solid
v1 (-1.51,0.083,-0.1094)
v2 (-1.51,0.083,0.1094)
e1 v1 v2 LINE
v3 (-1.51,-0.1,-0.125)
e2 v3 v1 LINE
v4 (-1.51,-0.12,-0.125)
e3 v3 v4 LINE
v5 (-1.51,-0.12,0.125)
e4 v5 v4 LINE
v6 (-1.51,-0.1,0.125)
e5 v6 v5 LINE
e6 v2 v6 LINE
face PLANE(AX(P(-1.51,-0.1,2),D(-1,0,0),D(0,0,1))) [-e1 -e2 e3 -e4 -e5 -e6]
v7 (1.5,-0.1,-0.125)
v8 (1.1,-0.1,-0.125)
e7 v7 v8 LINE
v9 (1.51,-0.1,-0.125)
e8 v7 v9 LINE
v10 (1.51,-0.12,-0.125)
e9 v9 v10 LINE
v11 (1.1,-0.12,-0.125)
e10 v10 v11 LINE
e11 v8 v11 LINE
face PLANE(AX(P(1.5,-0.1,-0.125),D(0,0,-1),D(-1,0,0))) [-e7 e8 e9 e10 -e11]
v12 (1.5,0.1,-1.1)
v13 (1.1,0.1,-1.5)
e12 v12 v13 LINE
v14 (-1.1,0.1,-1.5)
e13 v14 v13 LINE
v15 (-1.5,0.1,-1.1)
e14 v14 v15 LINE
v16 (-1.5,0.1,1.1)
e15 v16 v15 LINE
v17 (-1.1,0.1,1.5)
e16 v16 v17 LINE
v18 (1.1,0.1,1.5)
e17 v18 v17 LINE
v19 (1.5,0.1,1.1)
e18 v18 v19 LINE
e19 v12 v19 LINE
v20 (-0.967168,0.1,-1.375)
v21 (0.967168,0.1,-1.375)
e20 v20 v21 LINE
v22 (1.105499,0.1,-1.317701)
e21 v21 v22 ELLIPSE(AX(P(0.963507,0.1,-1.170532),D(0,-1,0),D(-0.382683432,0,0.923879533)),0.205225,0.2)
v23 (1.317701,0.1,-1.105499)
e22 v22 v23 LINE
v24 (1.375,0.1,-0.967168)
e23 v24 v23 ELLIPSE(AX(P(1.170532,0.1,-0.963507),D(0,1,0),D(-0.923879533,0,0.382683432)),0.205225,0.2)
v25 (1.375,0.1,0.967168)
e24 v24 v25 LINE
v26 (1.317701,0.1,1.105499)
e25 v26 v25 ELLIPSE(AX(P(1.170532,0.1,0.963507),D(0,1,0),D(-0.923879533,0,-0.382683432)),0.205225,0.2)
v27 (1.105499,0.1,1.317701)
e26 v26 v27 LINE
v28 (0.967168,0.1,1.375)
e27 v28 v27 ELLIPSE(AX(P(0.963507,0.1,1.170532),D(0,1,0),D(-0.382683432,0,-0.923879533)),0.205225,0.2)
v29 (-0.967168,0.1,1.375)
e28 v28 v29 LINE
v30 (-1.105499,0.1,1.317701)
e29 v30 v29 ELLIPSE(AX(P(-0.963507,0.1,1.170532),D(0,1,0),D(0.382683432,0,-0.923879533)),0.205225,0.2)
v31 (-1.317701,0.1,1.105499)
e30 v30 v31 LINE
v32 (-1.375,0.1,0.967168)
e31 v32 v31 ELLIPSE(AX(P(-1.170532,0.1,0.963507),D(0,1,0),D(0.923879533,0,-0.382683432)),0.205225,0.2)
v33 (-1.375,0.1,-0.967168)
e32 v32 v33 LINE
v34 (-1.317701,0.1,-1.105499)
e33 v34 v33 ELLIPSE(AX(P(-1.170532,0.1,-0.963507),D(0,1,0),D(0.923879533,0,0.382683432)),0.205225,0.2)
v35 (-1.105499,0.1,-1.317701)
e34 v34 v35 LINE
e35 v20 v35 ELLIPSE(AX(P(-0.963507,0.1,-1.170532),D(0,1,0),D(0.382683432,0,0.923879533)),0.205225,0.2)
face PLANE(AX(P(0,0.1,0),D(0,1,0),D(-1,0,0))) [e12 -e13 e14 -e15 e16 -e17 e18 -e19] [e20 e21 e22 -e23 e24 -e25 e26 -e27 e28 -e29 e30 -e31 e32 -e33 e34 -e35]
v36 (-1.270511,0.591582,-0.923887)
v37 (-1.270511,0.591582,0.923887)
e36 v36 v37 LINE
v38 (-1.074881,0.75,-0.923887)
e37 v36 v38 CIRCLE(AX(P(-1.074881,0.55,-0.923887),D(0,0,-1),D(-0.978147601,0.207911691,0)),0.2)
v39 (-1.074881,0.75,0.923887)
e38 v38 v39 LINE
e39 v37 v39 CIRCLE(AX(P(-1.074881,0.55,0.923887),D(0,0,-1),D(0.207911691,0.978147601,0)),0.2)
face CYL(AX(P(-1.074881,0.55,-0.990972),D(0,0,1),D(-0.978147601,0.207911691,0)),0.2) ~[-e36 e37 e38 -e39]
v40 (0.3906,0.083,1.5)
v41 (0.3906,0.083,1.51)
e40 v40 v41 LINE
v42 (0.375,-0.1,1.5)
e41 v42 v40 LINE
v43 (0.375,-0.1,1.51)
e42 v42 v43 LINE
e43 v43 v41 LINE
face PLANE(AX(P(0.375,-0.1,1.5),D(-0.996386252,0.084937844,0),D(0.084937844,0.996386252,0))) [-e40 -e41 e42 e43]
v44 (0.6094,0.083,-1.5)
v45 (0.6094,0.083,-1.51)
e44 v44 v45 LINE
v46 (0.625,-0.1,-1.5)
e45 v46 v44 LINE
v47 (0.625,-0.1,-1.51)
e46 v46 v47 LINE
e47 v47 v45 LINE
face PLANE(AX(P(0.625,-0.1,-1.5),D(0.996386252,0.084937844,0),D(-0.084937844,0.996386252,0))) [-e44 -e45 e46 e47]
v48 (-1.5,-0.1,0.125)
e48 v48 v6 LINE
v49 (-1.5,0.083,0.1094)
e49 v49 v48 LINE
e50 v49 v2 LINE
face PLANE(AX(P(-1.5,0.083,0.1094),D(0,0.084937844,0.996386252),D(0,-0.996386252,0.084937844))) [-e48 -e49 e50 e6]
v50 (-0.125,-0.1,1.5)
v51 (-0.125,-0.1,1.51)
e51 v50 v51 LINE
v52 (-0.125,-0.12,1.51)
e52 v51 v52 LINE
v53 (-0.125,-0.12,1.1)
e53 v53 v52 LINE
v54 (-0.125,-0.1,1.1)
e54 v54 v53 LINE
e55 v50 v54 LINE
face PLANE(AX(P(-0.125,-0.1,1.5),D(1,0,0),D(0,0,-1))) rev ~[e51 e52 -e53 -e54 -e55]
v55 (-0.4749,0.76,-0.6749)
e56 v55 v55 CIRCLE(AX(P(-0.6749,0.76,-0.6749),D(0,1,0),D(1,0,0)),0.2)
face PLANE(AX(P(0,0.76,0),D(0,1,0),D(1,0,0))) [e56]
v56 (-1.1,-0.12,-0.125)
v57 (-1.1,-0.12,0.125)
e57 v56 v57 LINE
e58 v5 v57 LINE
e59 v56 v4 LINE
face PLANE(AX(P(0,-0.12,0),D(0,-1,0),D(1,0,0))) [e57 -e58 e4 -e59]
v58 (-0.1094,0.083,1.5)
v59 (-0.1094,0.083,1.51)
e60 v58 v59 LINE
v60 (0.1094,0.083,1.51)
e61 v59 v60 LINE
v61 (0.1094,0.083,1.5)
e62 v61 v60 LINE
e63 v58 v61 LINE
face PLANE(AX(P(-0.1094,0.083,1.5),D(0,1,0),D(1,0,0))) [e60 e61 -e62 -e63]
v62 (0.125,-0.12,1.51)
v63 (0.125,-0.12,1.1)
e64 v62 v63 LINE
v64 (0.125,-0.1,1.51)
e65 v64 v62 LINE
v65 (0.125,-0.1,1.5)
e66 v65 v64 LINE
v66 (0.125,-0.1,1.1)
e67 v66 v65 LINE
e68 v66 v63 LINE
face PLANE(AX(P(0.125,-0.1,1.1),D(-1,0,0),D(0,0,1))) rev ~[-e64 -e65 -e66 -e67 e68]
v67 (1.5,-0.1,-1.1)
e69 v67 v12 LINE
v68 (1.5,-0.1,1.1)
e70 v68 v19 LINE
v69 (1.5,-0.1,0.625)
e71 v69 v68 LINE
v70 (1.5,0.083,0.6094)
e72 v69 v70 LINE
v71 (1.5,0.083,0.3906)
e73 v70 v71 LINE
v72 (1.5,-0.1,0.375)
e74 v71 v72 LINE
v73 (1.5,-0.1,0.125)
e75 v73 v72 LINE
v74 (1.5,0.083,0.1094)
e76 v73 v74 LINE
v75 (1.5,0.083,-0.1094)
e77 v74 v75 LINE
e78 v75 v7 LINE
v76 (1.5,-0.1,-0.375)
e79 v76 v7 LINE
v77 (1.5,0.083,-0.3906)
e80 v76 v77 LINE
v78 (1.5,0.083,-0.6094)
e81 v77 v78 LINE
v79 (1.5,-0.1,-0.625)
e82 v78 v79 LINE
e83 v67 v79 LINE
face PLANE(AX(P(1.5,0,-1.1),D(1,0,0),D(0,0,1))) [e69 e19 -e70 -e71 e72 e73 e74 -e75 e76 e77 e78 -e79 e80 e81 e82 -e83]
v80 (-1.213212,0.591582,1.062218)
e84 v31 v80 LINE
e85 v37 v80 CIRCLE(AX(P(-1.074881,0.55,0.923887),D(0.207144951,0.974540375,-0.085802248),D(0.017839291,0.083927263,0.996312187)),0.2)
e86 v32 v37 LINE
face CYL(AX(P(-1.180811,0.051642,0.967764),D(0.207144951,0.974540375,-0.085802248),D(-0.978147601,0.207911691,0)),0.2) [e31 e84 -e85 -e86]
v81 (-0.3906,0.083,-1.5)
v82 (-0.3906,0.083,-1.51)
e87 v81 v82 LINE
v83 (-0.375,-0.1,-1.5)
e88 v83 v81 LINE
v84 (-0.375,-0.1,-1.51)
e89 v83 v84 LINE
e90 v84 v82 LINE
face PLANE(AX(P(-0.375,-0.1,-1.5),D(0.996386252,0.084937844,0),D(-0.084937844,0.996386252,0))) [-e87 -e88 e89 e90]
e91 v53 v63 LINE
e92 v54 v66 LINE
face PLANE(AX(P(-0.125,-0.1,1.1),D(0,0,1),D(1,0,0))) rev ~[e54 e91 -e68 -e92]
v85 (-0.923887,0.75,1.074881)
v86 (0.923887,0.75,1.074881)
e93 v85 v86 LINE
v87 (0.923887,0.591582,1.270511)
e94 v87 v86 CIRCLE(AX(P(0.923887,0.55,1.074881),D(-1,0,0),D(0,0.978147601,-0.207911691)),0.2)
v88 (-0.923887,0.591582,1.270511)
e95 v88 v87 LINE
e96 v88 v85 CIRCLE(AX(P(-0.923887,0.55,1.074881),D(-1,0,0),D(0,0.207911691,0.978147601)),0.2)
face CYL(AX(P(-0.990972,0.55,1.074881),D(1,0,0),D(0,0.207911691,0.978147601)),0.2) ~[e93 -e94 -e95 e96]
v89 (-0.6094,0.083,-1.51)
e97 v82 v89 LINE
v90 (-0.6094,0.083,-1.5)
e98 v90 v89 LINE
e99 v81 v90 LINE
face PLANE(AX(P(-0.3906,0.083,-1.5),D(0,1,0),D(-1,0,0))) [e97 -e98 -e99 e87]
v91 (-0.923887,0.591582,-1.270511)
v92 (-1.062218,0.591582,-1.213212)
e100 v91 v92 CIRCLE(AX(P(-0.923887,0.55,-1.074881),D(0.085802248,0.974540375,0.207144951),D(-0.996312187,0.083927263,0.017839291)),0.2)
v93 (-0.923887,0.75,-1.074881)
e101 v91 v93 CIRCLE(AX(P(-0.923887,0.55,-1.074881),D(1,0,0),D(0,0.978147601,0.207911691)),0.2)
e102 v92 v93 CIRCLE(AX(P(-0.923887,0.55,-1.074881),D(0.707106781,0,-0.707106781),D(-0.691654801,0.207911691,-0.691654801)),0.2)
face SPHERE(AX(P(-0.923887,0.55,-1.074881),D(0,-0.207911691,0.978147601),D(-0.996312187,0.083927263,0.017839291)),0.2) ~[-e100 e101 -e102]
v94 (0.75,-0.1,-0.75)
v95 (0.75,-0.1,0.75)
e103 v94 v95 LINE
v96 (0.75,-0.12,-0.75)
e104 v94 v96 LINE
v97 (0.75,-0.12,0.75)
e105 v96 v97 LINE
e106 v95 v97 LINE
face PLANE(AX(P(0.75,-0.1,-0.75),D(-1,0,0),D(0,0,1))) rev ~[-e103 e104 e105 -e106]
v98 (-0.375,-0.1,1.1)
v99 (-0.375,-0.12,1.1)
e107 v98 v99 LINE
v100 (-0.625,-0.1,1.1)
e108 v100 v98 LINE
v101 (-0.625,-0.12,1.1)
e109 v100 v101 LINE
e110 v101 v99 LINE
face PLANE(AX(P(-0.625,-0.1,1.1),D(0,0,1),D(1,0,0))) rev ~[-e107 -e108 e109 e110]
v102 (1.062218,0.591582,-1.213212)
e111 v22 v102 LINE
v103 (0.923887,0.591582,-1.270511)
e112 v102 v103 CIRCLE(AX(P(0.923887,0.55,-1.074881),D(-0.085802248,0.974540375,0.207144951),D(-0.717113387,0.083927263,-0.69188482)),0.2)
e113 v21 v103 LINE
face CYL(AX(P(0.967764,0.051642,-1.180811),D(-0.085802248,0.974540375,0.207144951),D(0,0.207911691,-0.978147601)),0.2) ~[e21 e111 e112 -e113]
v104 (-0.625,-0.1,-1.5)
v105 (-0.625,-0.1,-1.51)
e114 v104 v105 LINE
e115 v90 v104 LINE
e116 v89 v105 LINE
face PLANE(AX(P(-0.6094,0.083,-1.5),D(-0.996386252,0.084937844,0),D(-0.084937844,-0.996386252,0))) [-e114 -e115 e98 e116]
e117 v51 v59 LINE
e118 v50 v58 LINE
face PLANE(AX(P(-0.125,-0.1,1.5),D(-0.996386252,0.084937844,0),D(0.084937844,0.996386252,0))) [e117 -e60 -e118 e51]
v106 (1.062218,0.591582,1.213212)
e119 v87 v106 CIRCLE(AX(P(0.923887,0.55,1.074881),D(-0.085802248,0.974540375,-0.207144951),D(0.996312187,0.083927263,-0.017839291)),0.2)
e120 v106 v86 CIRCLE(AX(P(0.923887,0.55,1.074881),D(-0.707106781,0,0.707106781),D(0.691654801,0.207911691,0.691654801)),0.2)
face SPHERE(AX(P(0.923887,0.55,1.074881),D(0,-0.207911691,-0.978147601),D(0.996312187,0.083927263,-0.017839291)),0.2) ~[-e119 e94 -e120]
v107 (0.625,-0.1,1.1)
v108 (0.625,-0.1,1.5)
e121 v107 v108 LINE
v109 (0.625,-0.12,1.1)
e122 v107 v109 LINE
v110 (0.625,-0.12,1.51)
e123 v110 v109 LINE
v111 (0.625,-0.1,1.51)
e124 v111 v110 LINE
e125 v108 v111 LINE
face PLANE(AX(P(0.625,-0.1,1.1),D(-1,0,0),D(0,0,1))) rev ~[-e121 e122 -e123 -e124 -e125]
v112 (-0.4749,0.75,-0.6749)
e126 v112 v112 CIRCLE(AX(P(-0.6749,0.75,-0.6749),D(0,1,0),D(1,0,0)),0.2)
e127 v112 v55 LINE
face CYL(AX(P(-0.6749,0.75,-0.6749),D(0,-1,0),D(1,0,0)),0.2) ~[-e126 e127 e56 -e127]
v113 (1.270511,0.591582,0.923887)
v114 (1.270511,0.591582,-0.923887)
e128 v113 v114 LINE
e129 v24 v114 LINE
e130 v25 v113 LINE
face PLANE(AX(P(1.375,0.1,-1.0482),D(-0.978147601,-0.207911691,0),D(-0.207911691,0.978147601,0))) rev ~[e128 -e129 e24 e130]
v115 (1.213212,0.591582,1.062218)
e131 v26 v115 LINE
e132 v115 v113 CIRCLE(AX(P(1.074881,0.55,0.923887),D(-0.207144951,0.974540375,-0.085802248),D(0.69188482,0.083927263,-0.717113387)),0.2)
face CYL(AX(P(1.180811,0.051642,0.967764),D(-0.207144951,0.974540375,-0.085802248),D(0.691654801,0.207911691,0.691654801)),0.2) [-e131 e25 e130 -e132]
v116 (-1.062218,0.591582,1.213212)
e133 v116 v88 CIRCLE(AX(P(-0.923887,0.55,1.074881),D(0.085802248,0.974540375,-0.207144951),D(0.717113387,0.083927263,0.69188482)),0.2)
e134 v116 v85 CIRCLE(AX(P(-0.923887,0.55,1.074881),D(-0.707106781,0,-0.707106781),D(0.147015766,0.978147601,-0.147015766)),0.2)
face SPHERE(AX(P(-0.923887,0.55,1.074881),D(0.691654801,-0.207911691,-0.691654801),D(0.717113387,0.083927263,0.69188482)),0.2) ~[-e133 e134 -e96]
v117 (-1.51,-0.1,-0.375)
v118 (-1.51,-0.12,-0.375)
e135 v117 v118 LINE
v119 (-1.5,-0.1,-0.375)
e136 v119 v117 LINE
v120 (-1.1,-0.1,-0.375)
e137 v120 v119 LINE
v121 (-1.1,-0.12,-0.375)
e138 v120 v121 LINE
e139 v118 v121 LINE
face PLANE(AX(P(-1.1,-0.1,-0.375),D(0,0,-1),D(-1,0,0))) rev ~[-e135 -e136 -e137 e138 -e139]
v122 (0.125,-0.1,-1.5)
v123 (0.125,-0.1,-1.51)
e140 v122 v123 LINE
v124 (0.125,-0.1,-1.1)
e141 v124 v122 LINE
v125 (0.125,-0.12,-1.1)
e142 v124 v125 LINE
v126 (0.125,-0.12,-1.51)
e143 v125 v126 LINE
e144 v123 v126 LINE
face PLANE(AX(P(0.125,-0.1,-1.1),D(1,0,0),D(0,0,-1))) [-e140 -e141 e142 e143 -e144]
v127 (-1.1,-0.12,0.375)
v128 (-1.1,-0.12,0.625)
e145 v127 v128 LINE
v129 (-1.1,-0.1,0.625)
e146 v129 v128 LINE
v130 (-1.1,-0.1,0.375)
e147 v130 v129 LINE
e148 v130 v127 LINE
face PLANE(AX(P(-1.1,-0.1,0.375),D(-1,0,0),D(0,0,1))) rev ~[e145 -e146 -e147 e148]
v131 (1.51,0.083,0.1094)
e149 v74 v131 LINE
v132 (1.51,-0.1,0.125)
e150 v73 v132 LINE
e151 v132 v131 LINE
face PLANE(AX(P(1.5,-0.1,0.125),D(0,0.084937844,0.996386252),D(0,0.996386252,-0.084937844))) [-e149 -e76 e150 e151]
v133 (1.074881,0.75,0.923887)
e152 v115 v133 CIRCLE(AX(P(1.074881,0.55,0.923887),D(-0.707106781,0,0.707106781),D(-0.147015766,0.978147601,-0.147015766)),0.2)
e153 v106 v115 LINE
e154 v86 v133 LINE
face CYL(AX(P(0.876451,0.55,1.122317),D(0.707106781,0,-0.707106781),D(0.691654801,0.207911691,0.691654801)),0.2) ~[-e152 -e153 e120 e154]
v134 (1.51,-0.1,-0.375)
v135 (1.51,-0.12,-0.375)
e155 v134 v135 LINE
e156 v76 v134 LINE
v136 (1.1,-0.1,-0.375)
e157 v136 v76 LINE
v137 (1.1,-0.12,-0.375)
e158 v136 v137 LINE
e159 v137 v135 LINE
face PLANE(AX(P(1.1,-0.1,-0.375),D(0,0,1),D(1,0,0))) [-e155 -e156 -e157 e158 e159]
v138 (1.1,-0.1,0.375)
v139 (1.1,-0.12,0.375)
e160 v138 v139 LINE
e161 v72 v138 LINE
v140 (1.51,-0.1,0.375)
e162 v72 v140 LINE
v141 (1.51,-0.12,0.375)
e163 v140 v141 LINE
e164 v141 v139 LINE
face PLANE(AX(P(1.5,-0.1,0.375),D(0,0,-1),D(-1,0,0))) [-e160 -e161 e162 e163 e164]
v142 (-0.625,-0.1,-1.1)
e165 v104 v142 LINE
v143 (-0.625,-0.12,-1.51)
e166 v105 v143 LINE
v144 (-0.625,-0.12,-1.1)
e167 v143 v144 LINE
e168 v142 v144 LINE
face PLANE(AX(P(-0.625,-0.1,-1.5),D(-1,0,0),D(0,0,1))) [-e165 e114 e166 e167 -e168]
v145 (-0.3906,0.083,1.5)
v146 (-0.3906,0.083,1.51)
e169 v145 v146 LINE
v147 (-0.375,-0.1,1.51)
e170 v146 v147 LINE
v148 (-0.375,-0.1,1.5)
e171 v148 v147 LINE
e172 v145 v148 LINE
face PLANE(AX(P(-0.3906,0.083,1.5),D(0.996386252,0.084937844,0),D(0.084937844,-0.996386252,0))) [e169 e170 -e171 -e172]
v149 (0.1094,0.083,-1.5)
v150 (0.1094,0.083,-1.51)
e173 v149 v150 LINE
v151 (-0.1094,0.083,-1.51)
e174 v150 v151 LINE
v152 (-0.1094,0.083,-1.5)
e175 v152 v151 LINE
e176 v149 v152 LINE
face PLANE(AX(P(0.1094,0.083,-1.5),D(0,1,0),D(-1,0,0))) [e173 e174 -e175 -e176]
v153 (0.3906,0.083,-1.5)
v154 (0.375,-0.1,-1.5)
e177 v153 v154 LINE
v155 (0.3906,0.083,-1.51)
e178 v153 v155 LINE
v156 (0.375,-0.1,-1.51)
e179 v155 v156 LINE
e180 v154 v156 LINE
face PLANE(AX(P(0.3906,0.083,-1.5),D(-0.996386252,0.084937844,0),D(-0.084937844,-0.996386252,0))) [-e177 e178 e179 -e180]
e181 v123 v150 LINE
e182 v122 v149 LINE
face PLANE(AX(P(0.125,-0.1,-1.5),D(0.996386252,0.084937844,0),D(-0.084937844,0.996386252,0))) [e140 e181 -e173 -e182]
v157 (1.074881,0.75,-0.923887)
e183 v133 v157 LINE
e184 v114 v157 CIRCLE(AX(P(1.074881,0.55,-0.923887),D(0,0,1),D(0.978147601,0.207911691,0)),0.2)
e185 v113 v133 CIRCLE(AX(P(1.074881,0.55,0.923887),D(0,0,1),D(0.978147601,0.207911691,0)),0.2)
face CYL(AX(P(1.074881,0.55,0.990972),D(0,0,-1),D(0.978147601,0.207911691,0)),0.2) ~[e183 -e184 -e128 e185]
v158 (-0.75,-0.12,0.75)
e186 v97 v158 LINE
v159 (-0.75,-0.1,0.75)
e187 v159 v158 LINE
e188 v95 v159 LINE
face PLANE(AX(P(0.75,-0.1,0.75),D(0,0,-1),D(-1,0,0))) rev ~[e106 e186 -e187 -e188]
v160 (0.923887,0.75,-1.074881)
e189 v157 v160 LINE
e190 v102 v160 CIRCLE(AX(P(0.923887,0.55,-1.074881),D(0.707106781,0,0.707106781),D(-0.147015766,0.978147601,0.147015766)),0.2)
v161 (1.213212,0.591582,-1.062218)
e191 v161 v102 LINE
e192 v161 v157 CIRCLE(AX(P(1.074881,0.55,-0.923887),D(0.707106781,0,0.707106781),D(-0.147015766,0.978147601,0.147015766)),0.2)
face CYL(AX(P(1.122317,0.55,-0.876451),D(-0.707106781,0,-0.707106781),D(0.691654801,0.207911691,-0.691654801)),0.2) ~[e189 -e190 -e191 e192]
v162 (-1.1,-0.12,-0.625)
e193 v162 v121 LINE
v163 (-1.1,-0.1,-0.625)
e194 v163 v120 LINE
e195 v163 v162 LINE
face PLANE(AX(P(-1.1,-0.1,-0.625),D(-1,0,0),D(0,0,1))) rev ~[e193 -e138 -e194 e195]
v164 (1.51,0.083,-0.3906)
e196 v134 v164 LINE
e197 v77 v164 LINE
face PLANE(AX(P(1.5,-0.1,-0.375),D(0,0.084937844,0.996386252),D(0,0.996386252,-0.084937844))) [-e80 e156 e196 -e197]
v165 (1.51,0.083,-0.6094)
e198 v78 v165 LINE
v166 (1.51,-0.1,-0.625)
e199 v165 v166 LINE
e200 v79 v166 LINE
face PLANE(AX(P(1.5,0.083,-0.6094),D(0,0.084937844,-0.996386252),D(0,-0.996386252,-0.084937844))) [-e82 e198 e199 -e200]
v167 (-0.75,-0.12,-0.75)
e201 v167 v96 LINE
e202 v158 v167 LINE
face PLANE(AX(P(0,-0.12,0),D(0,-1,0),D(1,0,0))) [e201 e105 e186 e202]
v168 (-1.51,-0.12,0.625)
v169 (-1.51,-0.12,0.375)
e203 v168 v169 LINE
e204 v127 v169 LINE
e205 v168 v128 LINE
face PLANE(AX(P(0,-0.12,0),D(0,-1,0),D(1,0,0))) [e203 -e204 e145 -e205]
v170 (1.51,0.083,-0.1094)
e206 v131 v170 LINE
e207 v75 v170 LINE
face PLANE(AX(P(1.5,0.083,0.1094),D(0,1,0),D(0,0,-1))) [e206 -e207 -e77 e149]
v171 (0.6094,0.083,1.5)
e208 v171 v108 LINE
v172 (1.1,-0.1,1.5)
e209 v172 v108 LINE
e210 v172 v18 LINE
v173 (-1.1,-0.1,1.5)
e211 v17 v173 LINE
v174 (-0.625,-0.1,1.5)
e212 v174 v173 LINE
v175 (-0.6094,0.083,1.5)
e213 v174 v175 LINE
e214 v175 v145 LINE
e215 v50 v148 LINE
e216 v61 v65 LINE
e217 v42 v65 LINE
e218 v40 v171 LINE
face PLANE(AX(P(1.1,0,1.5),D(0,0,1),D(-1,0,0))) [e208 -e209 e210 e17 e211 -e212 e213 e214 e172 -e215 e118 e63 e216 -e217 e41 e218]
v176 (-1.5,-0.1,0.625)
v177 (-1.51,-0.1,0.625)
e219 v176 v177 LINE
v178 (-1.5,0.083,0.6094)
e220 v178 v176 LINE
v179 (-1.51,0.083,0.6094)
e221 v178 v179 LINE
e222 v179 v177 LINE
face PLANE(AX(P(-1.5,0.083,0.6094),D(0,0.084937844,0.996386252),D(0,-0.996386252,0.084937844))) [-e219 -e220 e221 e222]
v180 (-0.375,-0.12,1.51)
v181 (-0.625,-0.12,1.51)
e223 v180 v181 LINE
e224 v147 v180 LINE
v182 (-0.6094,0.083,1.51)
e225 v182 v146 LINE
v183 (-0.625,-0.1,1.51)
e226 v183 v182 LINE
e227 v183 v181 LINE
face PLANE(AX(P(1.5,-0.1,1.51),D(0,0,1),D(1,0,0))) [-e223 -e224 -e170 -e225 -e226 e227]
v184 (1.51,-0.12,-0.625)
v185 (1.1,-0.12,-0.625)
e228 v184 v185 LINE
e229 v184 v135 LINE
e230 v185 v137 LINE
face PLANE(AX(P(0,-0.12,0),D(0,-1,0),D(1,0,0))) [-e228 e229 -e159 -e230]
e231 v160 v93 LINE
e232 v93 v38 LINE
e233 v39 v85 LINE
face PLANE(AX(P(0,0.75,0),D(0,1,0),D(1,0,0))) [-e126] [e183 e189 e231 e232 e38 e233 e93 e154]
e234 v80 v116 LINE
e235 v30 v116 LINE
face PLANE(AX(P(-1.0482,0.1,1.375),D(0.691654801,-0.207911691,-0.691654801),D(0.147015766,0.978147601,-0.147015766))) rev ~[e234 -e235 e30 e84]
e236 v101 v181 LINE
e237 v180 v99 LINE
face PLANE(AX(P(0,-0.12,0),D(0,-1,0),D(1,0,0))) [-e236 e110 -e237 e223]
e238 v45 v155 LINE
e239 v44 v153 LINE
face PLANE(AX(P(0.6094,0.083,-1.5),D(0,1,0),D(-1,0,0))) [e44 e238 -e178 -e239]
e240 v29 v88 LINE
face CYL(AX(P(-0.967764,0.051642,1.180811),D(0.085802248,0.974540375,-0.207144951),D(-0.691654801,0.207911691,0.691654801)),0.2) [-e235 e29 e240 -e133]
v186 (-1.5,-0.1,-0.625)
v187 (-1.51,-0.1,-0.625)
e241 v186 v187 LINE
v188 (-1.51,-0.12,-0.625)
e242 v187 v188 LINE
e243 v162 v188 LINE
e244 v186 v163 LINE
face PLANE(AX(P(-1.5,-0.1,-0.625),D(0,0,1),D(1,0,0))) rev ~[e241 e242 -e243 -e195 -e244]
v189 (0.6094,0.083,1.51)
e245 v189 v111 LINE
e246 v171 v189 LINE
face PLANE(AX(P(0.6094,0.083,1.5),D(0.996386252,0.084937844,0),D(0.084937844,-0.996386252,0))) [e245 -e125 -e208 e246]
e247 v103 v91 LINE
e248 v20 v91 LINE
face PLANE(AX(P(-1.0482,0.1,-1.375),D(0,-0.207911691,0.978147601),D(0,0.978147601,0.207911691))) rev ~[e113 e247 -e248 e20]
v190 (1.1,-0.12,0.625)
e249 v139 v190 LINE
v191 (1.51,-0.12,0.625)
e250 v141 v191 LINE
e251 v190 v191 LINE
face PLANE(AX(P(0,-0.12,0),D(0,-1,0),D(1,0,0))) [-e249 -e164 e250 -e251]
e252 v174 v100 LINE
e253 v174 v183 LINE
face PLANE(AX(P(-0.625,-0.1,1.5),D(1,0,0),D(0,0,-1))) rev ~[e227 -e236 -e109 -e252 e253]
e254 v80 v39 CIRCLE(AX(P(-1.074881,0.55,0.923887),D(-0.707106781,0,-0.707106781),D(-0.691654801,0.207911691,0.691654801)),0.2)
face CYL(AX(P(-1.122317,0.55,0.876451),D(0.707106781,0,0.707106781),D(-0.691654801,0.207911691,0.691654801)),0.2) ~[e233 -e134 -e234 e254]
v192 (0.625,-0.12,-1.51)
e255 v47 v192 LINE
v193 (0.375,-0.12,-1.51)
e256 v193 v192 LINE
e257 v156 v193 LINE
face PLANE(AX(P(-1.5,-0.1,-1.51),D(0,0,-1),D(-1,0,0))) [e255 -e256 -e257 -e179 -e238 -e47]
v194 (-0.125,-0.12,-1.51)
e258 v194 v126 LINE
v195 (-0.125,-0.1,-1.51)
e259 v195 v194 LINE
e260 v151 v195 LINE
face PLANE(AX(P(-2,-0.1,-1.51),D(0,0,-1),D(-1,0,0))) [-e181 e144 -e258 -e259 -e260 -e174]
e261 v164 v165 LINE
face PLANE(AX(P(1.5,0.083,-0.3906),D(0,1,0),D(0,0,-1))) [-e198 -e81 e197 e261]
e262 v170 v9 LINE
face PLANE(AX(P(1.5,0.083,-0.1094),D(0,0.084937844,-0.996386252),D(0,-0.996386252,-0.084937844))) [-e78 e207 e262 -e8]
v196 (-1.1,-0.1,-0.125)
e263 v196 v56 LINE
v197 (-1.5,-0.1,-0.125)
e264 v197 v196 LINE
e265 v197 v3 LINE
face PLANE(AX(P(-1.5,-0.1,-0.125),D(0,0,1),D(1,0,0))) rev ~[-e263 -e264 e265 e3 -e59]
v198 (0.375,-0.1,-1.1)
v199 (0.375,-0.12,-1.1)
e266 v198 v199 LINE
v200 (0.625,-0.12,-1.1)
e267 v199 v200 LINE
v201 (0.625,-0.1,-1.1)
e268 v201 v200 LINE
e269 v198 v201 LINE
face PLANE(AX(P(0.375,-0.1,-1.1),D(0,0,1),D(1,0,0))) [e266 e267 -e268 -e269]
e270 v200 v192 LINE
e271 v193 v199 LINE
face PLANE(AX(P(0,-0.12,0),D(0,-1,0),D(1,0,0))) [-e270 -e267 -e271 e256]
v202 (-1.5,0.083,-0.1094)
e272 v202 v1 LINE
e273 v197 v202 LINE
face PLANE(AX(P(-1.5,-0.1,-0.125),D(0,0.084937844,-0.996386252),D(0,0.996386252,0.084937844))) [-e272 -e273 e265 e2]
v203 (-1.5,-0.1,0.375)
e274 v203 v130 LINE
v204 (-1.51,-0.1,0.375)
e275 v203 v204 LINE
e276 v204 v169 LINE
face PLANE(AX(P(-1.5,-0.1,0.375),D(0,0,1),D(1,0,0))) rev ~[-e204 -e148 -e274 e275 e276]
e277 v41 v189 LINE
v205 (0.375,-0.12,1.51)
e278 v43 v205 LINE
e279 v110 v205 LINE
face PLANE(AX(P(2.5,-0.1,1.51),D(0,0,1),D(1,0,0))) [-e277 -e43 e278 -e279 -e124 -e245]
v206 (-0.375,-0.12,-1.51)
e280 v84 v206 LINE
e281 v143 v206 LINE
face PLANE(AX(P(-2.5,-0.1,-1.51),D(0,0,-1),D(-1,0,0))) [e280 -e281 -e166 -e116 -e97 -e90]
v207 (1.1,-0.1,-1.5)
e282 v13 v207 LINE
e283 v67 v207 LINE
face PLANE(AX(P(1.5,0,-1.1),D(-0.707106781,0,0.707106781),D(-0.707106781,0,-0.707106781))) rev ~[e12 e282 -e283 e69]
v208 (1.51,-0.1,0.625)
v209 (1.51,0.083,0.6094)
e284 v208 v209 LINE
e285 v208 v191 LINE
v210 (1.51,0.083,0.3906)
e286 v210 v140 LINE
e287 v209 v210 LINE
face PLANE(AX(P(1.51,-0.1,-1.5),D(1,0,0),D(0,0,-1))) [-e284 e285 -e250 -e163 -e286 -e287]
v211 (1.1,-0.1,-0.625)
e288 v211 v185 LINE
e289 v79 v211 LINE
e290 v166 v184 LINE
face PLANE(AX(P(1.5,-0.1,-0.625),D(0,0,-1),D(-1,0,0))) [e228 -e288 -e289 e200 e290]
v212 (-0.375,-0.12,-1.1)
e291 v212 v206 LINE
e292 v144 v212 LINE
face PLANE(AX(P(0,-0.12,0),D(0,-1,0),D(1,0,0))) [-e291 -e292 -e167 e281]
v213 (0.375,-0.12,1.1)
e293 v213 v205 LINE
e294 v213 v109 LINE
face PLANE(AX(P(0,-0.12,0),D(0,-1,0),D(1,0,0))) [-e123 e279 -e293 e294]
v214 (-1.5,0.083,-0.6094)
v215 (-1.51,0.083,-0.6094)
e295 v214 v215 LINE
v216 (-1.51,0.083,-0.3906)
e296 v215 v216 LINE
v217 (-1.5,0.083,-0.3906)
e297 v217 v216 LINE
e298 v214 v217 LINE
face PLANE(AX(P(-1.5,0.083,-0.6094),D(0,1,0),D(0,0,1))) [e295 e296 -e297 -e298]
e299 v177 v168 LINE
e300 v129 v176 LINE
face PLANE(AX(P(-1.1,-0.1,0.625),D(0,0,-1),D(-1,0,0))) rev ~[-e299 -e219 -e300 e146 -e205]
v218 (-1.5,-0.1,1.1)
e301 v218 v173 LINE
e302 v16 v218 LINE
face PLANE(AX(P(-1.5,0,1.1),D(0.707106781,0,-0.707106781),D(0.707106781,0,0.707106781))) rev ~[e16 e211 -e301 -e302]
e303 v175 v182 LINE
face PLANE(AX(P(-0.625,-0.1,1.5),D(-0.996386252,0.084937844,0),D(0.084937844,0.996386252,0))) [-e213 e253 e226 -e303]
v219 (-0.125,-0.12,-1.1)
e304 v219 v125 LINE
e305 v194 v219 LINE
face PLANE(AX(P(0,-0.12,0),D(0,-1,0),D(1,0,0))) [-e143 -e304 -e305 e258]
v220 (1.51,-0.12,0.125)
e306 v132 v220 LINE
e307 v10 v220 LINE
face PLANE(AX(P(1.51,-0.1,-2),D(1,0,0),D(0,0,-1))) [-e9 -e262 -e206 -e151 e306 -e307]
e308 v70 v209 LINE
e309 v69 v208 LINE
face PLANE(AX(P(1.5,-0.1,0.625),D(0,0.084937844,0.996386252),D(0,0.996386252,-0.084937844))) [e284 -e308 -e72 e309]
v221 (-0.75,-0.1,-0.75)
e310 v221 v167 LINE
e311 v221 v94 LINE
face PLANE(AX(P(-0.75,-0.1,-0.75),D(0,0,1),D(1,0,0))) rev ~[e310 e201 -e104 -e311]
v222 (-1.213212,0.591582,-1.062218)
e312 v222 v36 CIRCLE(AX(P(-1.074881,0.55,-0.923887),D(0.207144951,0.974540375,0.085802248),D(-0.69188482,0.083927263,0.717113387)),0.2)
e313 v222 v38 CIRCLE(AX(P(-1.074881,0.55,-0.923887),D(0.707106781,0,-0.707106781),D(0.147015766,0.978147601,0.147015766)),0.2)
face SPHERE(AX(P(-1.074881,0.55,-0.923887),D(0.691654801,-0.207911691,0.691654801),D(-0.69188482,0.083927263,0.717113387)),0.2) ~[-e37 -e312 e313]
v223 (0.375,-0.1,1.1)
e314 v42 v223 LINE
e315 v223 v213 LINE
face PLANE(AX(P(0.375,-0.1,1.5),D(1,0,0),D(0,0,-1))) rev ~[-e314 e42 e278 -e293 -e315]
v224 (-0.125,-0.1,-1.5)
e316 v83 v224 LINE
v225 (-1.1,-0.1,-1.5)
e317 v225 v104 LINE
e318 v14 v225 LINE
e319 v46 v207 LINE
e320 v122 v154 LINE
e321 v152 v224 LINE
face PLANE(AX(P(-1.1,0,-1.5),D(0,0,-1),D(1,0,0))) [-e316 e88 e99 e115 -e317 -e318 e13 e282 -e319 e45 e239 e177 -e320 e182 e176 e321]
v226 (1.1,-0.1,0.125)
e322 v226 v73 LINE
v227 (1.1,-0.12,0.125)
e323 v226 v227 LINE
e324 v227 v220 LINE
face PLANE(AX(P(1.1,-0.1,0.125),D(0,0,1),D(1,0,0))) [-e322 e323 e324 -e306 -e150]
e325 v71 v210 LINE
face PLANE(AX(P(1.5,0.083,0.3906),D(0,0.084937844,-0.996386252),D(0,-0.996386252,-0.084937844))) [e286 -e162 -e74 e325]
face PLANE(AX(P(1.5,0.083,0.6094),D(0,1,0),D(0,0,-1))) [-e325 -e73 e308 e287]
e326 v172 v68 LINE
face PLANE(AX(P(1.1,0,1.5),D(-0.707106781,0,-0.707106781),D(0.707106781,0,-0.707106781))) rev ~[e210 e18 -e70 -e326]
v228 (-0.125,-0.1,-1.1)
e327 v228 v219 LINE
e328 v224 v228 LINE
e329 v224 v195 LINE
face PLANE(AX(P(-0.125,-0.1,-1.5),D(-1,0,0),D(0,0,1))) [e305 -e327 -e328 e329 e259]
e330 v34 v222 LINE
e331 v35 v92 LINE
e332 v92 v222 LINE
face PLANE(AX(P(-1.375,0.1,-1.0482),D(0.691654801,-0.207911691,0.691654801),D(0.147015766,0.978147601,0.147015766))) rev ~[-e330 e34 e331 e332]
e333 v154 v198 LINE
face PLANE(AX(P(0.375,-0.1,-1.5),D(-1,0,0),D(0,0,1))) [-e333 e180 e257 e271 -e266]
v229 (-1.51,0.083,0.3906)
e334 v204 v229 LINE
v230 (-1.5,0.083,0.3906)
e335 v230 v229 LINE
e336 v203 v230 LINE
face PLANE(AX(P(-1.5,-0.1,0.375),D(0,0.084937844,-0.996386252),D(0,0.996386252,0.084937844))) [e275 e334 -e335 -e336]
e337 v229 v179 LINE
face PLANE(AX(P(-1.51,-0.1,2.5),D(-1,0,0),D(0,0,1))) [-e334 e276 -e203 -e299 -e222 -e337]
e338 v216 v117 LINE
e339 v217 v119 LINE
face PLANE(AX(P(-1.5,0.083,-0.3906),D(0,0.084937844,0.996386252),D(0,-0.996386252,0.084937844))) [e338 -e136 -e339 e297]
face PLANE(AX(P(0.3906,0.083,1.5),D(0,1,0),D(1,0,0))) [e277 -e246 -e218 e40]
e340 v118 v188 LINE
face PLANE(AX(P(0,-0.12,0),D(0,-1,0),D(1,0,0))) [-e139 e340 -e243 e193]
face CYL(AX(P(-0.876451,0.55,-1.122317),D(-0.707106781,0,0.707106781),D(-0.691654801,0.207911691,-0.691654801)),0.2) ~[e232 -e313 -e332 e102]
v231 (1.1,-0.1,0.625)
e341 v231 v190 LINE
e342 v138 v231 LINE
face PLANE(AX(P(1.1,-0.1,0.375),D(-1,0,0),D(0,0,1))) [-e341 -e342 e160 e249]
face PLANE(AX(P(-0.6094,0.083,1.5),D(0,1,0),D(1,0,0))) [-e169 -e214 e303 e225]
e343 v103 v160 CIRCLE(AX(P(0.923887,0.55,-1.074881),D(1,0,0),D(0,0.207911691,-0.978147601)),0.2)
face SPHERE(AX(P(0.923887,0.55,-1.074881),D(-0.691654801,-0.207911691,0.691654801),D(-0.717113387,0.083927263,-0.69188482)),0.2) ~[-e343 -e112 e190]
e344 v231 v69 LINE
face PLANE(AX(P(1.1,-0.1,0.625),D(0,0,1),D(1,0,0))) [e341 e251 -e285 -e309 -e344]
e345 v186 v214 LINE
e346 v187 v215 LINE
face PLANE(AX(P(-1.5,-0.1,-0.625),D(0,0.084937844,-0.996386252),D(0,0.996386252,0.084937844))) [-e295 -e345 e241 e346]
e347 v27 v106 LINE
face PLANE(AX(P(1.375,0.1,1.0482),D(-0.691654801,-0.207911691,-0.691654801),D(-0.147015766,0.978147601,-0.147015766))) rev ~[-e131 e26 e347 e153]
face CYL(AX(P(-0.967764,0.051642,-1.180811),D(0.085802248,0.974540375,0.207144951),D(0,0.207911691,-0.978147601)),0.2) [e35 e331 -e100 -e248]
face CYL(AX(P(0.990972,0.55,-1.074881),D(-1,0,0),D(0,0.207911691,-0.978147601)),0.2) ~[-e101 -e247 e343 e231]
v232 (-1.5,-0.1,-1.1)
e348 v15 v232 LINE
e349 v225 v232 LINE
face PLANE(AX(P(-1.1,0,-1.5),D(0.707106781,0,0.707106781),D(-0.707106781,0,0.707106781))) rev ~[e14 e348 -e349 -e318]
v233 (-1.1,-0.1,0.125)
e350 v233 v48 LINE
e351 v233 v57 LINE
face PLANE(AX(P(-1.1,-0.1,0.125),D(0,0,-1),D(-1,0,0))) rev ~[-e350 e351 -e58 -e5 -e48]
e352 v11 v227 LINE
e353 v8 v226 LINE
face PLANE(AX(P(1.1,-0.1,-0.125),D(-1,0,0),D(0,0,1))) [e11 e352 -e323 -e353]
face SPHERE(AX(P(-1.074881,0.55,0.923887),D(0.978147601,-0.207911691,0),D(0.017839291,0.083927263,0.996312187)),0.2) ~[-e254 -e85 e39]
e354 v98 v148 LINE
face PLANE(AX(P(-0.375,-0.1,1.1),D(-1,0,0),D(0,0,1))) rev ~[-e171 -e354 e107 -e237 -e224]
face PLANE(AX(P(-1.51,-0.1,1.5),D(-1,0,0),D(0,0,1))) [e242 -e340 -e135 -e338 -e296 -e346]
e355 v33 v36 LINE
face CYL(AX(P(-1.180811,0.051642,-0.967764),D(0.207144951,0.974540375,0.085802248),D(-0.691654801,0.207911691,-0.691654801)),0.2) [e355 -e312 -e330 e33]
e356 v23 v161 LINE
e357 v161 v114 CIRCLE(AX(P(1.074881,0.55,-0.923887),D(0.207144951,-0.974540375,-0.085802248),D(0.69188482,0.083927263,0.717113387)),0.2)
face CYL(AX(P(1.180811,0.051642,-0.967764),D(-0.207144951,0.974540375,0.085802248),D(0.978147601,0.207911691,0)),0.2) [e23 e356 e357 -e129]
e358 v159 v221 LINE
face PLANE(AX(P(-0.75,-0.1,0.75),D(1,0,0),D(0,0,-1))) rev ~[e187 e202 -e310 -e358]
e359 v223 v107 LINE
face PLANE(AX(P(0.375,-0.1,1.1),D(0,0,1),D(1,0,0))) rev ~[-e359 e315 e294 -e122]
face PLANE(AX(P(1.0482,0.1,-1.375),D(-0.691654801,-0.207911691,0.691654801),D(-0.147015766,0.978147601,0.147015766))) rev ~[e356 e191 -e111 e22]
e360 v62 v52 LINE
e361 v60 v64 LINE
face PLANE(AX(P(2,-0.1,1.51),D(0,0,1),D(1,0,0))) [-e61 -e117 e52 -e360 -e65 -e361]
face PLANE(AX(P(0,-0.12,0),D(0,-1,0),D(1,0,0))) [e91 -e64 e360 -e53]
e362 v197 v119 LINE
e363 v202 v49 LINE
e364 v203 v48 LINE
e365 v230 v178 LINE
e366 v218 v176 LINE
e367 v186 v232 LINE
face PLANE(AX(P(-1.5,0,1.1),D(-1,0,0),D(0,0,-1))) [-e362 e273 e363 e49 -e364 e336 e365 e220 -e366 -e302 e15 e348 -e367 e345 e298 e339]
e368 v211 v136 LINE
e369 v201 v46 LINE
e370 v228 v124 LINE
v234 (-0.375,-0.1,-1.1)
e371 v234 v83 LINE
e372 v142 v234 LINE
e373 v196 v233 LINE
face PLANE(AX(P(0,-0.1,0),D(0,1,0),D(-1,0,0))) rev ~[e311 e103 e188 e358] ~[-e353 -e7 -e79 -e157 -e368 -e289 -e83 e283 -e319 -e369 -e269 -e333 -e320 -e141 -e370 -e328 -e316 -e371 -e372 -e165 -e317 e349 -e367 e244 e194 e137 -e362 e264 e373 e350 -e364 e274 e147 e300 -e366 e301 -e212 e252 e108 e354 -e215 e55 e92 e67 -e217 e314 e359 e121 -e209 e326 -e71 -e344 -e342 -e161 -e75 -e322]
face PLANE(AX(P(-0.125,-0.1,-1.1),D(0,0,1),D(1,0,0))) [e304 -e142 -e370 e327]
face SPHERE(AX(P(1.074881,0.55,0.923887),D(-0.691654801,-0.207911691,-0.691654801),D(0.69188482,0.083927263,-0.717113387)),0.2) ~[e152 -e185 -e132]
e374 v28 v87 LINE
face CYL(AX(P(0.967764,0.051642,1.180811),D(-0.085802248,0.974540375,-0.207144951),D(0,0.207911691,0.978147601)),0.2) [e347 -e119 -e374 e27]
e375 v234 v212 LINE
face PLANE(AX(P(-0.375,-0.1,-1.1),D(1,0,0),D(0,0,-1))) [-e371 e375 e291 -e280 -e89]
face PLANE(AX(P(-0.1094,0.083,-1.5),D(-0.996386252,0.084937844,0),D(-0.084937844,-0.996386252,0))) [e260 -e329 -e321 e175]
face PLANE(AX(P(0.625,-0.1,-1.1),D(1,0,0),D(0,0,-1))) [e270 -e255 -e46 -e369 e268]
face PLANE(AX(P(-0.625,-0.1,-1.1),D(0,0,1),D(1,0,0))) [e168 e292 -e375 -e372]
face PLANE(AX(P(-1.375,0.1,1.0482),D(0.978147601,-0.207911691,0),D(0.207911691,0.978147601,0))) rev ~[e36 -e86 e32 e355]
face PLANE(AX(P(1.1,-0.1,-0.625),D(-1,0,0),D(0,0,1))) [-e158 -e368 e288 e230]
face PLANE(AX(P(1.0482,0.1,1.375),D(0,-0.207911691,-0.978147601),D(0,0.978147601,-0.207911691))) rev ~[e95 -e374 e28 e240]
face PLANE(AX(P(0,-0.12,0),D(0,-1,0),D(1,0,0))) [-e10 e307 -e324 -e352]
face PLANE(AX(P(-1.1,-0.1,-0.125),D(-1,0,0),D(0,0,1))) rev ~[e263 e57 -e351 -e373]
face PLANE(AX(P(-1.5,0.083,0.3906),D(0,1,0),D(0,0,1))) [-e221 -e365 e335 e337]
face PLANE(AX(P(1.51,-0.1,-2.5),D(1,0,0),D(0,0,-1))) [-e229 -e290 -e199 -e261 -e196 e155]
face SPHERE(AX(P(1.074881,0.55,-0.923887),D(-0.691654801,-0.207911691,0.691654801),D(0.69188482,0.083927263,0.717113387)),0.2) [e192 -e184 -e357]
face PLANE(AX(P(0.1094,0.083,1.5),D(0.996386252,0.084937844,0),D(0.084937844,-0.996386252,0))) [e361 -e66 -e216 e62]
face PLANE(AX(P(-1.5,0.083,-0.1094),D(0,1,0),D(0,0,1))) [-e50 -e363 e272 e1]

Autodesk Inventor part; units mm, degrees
ref_plane "YZ Plane" through (0, 0, 0) normal (1, 0, 0) x (0, 1, 0)
ref_plane "XZ Plane" through (0, 0, 0) normal (0, 1, 0) x (-1, 0, 0)
ref_plane "XY Plane" through (0, 0, 0) normal (0, 0, 1) x (1, 0, 0)
sketch "Sketch1" plane through (0, 0, 0) normal (0, 1, 0) x (-1, 0, 0)
  line L0 (-1.1, 1.5) -> (1.1, 1.5)
  line L1 (1.5, 1.1) -> (1.5, -1.1)
  line L2 (1.1, -1.5) -> (-1.1, -1.5)
  line L3 (-1.5, -1.1) -> (-1.5, 1.1)
  line L4 (-1.5, 1.5) -> (1.5, -1.5) construction
  line L5 (1.5, 1.5) -> (-1.5, -1.5) construction
  line L6 (1.5, 1.1) -> (1.1, 1.5)
  line L7 (-1.1, 1.5) -> (-1.5, 1.1)
  line L8 (-1.5, -1.1) -> (-1.1, -1.5)
  line L9 (1.1, -1.5) -> (1.5, -1.1)
  point P0 (0, 0)
  dimension "d0" = 3
  dimension "d1" = 3
  dimension "d68" = 0.4
extrude "Extrusion1" add sketch "Sketch1" along normal mid plane 0.2
sketch "Sketch2" plane through (0, -0.1, 0) normal (0, -1, 0) x (1, 0, 0)
  line L0 (0.75, 0.75) -> (-0.75, 0.75)
  line L1 (-0.75, 0.75) -> (-0.75, -0.75)
  line L2 (-0.75, -0.75) -> (0.75, -0.75)
  line L3 (0.75, -0.75) -> (0.75, 0.75)
  line L4 (0.75, 0.75) -> (-0.75, -0.75) construction
  line L5 (-0.75, 0.75) -> (0.75, -0.75) construction
  line L6 (1.1, 1.5) -> (-1.1, 1.5) projected
  line L7 (-1.5, 1.1) -> (-1.5, -1.1) projected
  line L8 (-1.1, -1.5) -> (1.1, -1.5) projected
  line L9 (1.5, -1.1) -> (1.5, 1.1) projected
  line L10 (0.625, -1.5) -> (0.375, -1.5)
  line L11 (0.375, -1.5) -> (0.375, -1.1)
  line L12 (0.375, -1.1) -> (0.625, -1.1)
  line L13 (0.625, -1.1) -> (0.625, -1.5)
  line L14 (1.5, -0.625) -> (1.1, -0.625)
  line L15 (1.1, -0.625) -> (1.1, -0.375)
  line L16 (1.1, -0.375) -> (1.5, -0.375)
  line L17 (1.5, -0.375) -> (1.5, -0.625)
  line L18 (0.625, 1.5) -> (0.375, 1.5)
  line L19 (0.375, 1.5) -> (0.375, 1.1)
  line L20 (0.375, 1.1) -> (0.625, 1.1)
  line L21 (0.625, 1.1) -> (0.625, 1.5)
  line L22 (-1.5, -0.625) -> (-1.1, -0.625)
  line L23 (-1.1, -0.625) -> (-1.1, -0.375)
  line L24 (-1.1, -0.375) -> (-1.5, -0.375)
  line L25 (-1.5, -0.375) -> (-1.5, -0.625)
  line L26 (1.5, -0.125) -> (1.1, -0.125)
  line L27 (1.1, -0.125) -> (1.1, 0.125)
  line L28 (1.1, 0.125) -> (1.5, 0.125)
  line L29 (1.5, 0.125) -> (1.5, -0.125)
  line L30 (-1.5, -0.125) -> (-1.1, -0.125)
  line L31 (-1.5, 0.125) -> (-1.5, -0.125)
  line L32 (-1.1, 0.125) -> (-1.5, 0.125)
  line L33 (-1.1, -0.125) -> (-1.1, 0.125)
  line L34 (1.5, 0.375) -> (1.1, 0.375)
  line L35 (1.1, 0.375) -> (1.1, 0.625)
  line L36 (1.1, 0.625) -> (1.5, 0.625)
  line L37 (1.5, 0.625) -> (1.5, 0.375)
  line L38 (-1.5, 0.375) -> (-1.1, 0.375)
  line L39 (-1.5, 0.625) -> (-1.5, 0.375)
  line L40 (-1.1, 0.625) -> (-1.5, 0.625)
  line L41 (-1.1, 0.375) -> (-1.1, 0.625)
  line L42 (0.125, -1.5) -> (-0.125, -1.5)
  line L43 (-0.125, -1.5) -> (-0.125, -1.1)
  line L44 (-0.125, -1.1) -> (0.125, -1.1)
  line L45 (0.125, -1.1) -> (0.125, -1.5)
  line L46 (-0.125, 1.1) -> (0.125, 1.1)
  line L47 (-0.125, 1.5) -> (-0.125, 1.1)
  line L48 (0.125, 1.5) -> (-0.125, 1.5)
  line L49 (0.125, 1.1) -> (0.125, 1.5)
  line L50 (-0.375, -1.5) -> (-0.625, -1.5)
  line L51 (-0.625, -1.5) -> (-0.625, -1.1)
  line L52 (-0.625, -1.1) -> (-0.375, -1.1)
  line L53 (-0.375, -1.1) -> (-0.375, -1.5)
  line L54 (-0.625, 1.1) -> (-0.375, 1.1)
  line L55 (-0.625, 1.5) -> (-0.625, 1.1)
  line L56 (-0.375, 1.5) -> (-0.625, 1.5)
  line L57 (-0.375, 1.1) -> (-0.375, 1.5)
  line L58 (-1.1, 1.5) -> (-1.5, 1.1) projected
  line L59 (-1.5, -1.1) -> (-1.1, -1.5) projected
  line L60 (1.1, -1.5) -> (1.5, -1.1) projected
  line L61 (1.5, 1.1) -> (1.1, 1.5) projected
  point P0 (0, 0)
  point P1 (-0.5, -1.1)
  point P2 (0, 0)
  point P3 (0, 0)
  point P4 (1.1, 0)
  point P5 (0, -1.1)
  dimension "d4" = 1.5
  dimension "d5" = 1.5
  dimension "d8" = 0.4
  dimension "d9" = 0.25
  dimension "d20" = 0.5
  dimension "d63" = 0.5
extrude "Extrusion2" add sketch "Sketch2" along normal blind 0.02 contours L3 L2 L1 L0 | L21 L20 L19 L6 | L9 L34 L35 L36 | L49 L46 L47 L6 | L9 L26 L27 L28 | L57 L54 L55 L6 | L9 L14 L15 L16 | L40 L41 L38 L7 | L8 L11 L12 L13 | L32 L33 L30 L7 | L8 L43 L44 L45 | L24 L23 L22 L7 | L8 L51 L52 L53
sketch "Sketch3" plane through (-1.5, -0.1, 1.5) normal (-1, 0, 0) x (0, 0, 1)
  line L0 (-2.6, 0.2) -> (-0.4, 0.2) projected
  line L1 (-2.125, 0) -> (-2.125, -0.02) projected
  line L2 (-1.875, -0.02) -> (-2.125, -0.02) projected
  line L3 (-1.875, 0) -> (-1.875, -0.02) projected
  line L4 (-1.625, 0) -> (-1.875, 0) projected
  line L5 (-1.625, 0) -> (-1.625, -0.02) projected
  line L6 (-1.375, -0.02) -> (-1.625, -0.02) projected
  line L7 (-1.375, 0) -> (-1.375, -0.02) projected
  line L8 (-1.125, 0) -> (-1.375, 0) projected
  line L9 (-1.125, 0) -> (-1.125, -0.02) projected
  line L10 (-0.875, -0.02) -> (-1.125, -0.02) projected
  line L11 (-0.875, 0) -> (-0.875, -0.02) projected
  line L12 (-0.4, 0) -> (-0.875, 0) projected
  line L13 (-2.125, 0) -> (-1.875, 0) projected
  line L14 (-2.125, 0) -> (-2.1094, 0.183)
  line L15 (-2.1094, 0.183) -> (-1.8906, 0.183)
  line L16 (-1.8906, 0.183) -> (-1.875, 0)
  line L17 (-0.4, 0.2) -> (-0.4, 0) projected
  line L18 (-2.6, 0) -> (-2.6, 0.2) projected
  line L19 (-2.125, 0) -> (-2.6, 0) projected
  point P0 (-1.5, 0.1)
  dimension "d28" = 0.203
  dimension "d29" = 0.25
  dimension "d30" = 0.2188
extrude "Extrusion3" add sketch "Sketch3" along normal blind 0.01 contours L13 L3 L2 L1 | L14 L15 L16 L13
pattern_linear "Rectangular Pattern1" count 3 spacing 0.5 along (0, 0, 1) of "Extrusion3"
pattern_circular "Circular Pattern1" count 4 over 360 about axis through (0, -10, 0) along (0, 1, 0) of "Extrusion3", "Rectangular Pattern1"
sketch "Sketch6" plane through (0, 0.1, 0) normal (0, 1, 0) x (1, 0, 0)
  line L0 (-1.5, -1.1) -> (-1.1, -1.5) projected
  line L1 (-1.1, -1.5) -> (1.1, -1.5) projected
  line L2 (1.1, -1.5) -> (1.5, -1.1) projected
  line L3 (1.5, -1.1) -> (1.5, 1.1) projected
  line L4 (1.5, 1.1) -> (1.1, 1.5) projected
  line L5 (1.1, 1.5) -> (-1.1, 1.5) projected
  line L6 (-1.1, 1.5) -> (-1.5, 1.1) projected
  line L7 (-1.5, 1.1) -> (-1.5, -1.1) projected
  line L8 (1.0482, 1.375) -> (1.375, 1.0482)
  line L9 (1.375, 1.0482) -> (1.375, -1.0482)
  line L10 (1.375, -1.0482) -> (1.0482, -1.375)
  line L11 (1.0482, -1.375) -> (-1.0482, -1.375)
  line L12 (-1.0482, -1.375) -> (-1.375, -1.0482)
  line L13 (-1.375, -1.0482) -> (-1.375, 1.0482)
  line L14 (-1.375, 1.0482) -> (-1.0482, 1.375)
  line L15 (-1.0482, 1.375) -> (1.0482, 1.375)
  point P0 (0, 0)
  dimension "d78" = 2.75
extrude "Extrusion6" add sketch "Sketch6" along normal blind 0.65 draft -12 contours L8 L9 L10 L11 L12 L13 L14 L15
fillet "Fillet1" radius 0.2 16 edges at (1.2368, 0.75, 0) (1.3059, 0.425, 1.0196) (1.3059, 0.425, -1.0196) (1.1139, 0.75, 1.1139) (1.0196, 0.425, 1.3059) (0, 0.75, 1.2368) (-1.0196, 0.425, 1.3059) (-1.1139, 0.75, 1.1139) (-1.3059, 0.425, 1.0196) (-1.2368, 0.75, 0) (-1.3059, 0.425, -1.0196) (-1.1139, 0.75, -1.1139) (-1.0196, 0.425, -1.3059) (0, 0.75, -1.2368) (1.0196, 0.425, -1.3059) (1.1139, 0.75, -1.1139)
sketch "Sketch7" plane through (0, 0.75, 0) normal (0, 1, 0) x (1, 0, 0)
  circle A0 centre (-0.6749, 0.6749) radius 0.2
  line L0 (-1.0749, -0.9239) -> (-1.0749, 0.9239) projected
  line L1 (-0.9239, -1.0749) -> (-1.0749, -0.9239) projected
  line L2 (0.9239, -1.0749) -> (-0.9239, -1.0749) projected
  line L3 (1.0749, -0.9239) -> (0.9239, -1.0749) projected
  line L4 (1.0749, 0.9239) -> (1.0749, -0.9239) projected
  line L5 (0.9239, 1.0749) -> (1.0749, 0.9239) projected
  line L6 (-0.9239, 1.0749) -> (0.9239, 1.0749) projected
  line L7 (-1.0749, 0.9239) -> (-0.9239, 1.0749) projected
  circle A1 centre (-0.6749, 0.6749) radius 0.4 construction
  line L8 (-0.9239, 1.0749) -> (0.9239, 1.0749) construction
  line L9 (-1.0749, -0.9239) -> (-1.0749, 0.9239) construction
  point P0 (0, 0)
  dimension "d82" = 0.4
  dimension "d83" = 0.2
extrude "Extrusion7" add sketch "Sketch7" along normal blind 0.01 contours A0
equation "\"d30\" = 0.875 * d29"
properties part number "Semiconductor_QFN24-4x4" material "ABS Plastic"
